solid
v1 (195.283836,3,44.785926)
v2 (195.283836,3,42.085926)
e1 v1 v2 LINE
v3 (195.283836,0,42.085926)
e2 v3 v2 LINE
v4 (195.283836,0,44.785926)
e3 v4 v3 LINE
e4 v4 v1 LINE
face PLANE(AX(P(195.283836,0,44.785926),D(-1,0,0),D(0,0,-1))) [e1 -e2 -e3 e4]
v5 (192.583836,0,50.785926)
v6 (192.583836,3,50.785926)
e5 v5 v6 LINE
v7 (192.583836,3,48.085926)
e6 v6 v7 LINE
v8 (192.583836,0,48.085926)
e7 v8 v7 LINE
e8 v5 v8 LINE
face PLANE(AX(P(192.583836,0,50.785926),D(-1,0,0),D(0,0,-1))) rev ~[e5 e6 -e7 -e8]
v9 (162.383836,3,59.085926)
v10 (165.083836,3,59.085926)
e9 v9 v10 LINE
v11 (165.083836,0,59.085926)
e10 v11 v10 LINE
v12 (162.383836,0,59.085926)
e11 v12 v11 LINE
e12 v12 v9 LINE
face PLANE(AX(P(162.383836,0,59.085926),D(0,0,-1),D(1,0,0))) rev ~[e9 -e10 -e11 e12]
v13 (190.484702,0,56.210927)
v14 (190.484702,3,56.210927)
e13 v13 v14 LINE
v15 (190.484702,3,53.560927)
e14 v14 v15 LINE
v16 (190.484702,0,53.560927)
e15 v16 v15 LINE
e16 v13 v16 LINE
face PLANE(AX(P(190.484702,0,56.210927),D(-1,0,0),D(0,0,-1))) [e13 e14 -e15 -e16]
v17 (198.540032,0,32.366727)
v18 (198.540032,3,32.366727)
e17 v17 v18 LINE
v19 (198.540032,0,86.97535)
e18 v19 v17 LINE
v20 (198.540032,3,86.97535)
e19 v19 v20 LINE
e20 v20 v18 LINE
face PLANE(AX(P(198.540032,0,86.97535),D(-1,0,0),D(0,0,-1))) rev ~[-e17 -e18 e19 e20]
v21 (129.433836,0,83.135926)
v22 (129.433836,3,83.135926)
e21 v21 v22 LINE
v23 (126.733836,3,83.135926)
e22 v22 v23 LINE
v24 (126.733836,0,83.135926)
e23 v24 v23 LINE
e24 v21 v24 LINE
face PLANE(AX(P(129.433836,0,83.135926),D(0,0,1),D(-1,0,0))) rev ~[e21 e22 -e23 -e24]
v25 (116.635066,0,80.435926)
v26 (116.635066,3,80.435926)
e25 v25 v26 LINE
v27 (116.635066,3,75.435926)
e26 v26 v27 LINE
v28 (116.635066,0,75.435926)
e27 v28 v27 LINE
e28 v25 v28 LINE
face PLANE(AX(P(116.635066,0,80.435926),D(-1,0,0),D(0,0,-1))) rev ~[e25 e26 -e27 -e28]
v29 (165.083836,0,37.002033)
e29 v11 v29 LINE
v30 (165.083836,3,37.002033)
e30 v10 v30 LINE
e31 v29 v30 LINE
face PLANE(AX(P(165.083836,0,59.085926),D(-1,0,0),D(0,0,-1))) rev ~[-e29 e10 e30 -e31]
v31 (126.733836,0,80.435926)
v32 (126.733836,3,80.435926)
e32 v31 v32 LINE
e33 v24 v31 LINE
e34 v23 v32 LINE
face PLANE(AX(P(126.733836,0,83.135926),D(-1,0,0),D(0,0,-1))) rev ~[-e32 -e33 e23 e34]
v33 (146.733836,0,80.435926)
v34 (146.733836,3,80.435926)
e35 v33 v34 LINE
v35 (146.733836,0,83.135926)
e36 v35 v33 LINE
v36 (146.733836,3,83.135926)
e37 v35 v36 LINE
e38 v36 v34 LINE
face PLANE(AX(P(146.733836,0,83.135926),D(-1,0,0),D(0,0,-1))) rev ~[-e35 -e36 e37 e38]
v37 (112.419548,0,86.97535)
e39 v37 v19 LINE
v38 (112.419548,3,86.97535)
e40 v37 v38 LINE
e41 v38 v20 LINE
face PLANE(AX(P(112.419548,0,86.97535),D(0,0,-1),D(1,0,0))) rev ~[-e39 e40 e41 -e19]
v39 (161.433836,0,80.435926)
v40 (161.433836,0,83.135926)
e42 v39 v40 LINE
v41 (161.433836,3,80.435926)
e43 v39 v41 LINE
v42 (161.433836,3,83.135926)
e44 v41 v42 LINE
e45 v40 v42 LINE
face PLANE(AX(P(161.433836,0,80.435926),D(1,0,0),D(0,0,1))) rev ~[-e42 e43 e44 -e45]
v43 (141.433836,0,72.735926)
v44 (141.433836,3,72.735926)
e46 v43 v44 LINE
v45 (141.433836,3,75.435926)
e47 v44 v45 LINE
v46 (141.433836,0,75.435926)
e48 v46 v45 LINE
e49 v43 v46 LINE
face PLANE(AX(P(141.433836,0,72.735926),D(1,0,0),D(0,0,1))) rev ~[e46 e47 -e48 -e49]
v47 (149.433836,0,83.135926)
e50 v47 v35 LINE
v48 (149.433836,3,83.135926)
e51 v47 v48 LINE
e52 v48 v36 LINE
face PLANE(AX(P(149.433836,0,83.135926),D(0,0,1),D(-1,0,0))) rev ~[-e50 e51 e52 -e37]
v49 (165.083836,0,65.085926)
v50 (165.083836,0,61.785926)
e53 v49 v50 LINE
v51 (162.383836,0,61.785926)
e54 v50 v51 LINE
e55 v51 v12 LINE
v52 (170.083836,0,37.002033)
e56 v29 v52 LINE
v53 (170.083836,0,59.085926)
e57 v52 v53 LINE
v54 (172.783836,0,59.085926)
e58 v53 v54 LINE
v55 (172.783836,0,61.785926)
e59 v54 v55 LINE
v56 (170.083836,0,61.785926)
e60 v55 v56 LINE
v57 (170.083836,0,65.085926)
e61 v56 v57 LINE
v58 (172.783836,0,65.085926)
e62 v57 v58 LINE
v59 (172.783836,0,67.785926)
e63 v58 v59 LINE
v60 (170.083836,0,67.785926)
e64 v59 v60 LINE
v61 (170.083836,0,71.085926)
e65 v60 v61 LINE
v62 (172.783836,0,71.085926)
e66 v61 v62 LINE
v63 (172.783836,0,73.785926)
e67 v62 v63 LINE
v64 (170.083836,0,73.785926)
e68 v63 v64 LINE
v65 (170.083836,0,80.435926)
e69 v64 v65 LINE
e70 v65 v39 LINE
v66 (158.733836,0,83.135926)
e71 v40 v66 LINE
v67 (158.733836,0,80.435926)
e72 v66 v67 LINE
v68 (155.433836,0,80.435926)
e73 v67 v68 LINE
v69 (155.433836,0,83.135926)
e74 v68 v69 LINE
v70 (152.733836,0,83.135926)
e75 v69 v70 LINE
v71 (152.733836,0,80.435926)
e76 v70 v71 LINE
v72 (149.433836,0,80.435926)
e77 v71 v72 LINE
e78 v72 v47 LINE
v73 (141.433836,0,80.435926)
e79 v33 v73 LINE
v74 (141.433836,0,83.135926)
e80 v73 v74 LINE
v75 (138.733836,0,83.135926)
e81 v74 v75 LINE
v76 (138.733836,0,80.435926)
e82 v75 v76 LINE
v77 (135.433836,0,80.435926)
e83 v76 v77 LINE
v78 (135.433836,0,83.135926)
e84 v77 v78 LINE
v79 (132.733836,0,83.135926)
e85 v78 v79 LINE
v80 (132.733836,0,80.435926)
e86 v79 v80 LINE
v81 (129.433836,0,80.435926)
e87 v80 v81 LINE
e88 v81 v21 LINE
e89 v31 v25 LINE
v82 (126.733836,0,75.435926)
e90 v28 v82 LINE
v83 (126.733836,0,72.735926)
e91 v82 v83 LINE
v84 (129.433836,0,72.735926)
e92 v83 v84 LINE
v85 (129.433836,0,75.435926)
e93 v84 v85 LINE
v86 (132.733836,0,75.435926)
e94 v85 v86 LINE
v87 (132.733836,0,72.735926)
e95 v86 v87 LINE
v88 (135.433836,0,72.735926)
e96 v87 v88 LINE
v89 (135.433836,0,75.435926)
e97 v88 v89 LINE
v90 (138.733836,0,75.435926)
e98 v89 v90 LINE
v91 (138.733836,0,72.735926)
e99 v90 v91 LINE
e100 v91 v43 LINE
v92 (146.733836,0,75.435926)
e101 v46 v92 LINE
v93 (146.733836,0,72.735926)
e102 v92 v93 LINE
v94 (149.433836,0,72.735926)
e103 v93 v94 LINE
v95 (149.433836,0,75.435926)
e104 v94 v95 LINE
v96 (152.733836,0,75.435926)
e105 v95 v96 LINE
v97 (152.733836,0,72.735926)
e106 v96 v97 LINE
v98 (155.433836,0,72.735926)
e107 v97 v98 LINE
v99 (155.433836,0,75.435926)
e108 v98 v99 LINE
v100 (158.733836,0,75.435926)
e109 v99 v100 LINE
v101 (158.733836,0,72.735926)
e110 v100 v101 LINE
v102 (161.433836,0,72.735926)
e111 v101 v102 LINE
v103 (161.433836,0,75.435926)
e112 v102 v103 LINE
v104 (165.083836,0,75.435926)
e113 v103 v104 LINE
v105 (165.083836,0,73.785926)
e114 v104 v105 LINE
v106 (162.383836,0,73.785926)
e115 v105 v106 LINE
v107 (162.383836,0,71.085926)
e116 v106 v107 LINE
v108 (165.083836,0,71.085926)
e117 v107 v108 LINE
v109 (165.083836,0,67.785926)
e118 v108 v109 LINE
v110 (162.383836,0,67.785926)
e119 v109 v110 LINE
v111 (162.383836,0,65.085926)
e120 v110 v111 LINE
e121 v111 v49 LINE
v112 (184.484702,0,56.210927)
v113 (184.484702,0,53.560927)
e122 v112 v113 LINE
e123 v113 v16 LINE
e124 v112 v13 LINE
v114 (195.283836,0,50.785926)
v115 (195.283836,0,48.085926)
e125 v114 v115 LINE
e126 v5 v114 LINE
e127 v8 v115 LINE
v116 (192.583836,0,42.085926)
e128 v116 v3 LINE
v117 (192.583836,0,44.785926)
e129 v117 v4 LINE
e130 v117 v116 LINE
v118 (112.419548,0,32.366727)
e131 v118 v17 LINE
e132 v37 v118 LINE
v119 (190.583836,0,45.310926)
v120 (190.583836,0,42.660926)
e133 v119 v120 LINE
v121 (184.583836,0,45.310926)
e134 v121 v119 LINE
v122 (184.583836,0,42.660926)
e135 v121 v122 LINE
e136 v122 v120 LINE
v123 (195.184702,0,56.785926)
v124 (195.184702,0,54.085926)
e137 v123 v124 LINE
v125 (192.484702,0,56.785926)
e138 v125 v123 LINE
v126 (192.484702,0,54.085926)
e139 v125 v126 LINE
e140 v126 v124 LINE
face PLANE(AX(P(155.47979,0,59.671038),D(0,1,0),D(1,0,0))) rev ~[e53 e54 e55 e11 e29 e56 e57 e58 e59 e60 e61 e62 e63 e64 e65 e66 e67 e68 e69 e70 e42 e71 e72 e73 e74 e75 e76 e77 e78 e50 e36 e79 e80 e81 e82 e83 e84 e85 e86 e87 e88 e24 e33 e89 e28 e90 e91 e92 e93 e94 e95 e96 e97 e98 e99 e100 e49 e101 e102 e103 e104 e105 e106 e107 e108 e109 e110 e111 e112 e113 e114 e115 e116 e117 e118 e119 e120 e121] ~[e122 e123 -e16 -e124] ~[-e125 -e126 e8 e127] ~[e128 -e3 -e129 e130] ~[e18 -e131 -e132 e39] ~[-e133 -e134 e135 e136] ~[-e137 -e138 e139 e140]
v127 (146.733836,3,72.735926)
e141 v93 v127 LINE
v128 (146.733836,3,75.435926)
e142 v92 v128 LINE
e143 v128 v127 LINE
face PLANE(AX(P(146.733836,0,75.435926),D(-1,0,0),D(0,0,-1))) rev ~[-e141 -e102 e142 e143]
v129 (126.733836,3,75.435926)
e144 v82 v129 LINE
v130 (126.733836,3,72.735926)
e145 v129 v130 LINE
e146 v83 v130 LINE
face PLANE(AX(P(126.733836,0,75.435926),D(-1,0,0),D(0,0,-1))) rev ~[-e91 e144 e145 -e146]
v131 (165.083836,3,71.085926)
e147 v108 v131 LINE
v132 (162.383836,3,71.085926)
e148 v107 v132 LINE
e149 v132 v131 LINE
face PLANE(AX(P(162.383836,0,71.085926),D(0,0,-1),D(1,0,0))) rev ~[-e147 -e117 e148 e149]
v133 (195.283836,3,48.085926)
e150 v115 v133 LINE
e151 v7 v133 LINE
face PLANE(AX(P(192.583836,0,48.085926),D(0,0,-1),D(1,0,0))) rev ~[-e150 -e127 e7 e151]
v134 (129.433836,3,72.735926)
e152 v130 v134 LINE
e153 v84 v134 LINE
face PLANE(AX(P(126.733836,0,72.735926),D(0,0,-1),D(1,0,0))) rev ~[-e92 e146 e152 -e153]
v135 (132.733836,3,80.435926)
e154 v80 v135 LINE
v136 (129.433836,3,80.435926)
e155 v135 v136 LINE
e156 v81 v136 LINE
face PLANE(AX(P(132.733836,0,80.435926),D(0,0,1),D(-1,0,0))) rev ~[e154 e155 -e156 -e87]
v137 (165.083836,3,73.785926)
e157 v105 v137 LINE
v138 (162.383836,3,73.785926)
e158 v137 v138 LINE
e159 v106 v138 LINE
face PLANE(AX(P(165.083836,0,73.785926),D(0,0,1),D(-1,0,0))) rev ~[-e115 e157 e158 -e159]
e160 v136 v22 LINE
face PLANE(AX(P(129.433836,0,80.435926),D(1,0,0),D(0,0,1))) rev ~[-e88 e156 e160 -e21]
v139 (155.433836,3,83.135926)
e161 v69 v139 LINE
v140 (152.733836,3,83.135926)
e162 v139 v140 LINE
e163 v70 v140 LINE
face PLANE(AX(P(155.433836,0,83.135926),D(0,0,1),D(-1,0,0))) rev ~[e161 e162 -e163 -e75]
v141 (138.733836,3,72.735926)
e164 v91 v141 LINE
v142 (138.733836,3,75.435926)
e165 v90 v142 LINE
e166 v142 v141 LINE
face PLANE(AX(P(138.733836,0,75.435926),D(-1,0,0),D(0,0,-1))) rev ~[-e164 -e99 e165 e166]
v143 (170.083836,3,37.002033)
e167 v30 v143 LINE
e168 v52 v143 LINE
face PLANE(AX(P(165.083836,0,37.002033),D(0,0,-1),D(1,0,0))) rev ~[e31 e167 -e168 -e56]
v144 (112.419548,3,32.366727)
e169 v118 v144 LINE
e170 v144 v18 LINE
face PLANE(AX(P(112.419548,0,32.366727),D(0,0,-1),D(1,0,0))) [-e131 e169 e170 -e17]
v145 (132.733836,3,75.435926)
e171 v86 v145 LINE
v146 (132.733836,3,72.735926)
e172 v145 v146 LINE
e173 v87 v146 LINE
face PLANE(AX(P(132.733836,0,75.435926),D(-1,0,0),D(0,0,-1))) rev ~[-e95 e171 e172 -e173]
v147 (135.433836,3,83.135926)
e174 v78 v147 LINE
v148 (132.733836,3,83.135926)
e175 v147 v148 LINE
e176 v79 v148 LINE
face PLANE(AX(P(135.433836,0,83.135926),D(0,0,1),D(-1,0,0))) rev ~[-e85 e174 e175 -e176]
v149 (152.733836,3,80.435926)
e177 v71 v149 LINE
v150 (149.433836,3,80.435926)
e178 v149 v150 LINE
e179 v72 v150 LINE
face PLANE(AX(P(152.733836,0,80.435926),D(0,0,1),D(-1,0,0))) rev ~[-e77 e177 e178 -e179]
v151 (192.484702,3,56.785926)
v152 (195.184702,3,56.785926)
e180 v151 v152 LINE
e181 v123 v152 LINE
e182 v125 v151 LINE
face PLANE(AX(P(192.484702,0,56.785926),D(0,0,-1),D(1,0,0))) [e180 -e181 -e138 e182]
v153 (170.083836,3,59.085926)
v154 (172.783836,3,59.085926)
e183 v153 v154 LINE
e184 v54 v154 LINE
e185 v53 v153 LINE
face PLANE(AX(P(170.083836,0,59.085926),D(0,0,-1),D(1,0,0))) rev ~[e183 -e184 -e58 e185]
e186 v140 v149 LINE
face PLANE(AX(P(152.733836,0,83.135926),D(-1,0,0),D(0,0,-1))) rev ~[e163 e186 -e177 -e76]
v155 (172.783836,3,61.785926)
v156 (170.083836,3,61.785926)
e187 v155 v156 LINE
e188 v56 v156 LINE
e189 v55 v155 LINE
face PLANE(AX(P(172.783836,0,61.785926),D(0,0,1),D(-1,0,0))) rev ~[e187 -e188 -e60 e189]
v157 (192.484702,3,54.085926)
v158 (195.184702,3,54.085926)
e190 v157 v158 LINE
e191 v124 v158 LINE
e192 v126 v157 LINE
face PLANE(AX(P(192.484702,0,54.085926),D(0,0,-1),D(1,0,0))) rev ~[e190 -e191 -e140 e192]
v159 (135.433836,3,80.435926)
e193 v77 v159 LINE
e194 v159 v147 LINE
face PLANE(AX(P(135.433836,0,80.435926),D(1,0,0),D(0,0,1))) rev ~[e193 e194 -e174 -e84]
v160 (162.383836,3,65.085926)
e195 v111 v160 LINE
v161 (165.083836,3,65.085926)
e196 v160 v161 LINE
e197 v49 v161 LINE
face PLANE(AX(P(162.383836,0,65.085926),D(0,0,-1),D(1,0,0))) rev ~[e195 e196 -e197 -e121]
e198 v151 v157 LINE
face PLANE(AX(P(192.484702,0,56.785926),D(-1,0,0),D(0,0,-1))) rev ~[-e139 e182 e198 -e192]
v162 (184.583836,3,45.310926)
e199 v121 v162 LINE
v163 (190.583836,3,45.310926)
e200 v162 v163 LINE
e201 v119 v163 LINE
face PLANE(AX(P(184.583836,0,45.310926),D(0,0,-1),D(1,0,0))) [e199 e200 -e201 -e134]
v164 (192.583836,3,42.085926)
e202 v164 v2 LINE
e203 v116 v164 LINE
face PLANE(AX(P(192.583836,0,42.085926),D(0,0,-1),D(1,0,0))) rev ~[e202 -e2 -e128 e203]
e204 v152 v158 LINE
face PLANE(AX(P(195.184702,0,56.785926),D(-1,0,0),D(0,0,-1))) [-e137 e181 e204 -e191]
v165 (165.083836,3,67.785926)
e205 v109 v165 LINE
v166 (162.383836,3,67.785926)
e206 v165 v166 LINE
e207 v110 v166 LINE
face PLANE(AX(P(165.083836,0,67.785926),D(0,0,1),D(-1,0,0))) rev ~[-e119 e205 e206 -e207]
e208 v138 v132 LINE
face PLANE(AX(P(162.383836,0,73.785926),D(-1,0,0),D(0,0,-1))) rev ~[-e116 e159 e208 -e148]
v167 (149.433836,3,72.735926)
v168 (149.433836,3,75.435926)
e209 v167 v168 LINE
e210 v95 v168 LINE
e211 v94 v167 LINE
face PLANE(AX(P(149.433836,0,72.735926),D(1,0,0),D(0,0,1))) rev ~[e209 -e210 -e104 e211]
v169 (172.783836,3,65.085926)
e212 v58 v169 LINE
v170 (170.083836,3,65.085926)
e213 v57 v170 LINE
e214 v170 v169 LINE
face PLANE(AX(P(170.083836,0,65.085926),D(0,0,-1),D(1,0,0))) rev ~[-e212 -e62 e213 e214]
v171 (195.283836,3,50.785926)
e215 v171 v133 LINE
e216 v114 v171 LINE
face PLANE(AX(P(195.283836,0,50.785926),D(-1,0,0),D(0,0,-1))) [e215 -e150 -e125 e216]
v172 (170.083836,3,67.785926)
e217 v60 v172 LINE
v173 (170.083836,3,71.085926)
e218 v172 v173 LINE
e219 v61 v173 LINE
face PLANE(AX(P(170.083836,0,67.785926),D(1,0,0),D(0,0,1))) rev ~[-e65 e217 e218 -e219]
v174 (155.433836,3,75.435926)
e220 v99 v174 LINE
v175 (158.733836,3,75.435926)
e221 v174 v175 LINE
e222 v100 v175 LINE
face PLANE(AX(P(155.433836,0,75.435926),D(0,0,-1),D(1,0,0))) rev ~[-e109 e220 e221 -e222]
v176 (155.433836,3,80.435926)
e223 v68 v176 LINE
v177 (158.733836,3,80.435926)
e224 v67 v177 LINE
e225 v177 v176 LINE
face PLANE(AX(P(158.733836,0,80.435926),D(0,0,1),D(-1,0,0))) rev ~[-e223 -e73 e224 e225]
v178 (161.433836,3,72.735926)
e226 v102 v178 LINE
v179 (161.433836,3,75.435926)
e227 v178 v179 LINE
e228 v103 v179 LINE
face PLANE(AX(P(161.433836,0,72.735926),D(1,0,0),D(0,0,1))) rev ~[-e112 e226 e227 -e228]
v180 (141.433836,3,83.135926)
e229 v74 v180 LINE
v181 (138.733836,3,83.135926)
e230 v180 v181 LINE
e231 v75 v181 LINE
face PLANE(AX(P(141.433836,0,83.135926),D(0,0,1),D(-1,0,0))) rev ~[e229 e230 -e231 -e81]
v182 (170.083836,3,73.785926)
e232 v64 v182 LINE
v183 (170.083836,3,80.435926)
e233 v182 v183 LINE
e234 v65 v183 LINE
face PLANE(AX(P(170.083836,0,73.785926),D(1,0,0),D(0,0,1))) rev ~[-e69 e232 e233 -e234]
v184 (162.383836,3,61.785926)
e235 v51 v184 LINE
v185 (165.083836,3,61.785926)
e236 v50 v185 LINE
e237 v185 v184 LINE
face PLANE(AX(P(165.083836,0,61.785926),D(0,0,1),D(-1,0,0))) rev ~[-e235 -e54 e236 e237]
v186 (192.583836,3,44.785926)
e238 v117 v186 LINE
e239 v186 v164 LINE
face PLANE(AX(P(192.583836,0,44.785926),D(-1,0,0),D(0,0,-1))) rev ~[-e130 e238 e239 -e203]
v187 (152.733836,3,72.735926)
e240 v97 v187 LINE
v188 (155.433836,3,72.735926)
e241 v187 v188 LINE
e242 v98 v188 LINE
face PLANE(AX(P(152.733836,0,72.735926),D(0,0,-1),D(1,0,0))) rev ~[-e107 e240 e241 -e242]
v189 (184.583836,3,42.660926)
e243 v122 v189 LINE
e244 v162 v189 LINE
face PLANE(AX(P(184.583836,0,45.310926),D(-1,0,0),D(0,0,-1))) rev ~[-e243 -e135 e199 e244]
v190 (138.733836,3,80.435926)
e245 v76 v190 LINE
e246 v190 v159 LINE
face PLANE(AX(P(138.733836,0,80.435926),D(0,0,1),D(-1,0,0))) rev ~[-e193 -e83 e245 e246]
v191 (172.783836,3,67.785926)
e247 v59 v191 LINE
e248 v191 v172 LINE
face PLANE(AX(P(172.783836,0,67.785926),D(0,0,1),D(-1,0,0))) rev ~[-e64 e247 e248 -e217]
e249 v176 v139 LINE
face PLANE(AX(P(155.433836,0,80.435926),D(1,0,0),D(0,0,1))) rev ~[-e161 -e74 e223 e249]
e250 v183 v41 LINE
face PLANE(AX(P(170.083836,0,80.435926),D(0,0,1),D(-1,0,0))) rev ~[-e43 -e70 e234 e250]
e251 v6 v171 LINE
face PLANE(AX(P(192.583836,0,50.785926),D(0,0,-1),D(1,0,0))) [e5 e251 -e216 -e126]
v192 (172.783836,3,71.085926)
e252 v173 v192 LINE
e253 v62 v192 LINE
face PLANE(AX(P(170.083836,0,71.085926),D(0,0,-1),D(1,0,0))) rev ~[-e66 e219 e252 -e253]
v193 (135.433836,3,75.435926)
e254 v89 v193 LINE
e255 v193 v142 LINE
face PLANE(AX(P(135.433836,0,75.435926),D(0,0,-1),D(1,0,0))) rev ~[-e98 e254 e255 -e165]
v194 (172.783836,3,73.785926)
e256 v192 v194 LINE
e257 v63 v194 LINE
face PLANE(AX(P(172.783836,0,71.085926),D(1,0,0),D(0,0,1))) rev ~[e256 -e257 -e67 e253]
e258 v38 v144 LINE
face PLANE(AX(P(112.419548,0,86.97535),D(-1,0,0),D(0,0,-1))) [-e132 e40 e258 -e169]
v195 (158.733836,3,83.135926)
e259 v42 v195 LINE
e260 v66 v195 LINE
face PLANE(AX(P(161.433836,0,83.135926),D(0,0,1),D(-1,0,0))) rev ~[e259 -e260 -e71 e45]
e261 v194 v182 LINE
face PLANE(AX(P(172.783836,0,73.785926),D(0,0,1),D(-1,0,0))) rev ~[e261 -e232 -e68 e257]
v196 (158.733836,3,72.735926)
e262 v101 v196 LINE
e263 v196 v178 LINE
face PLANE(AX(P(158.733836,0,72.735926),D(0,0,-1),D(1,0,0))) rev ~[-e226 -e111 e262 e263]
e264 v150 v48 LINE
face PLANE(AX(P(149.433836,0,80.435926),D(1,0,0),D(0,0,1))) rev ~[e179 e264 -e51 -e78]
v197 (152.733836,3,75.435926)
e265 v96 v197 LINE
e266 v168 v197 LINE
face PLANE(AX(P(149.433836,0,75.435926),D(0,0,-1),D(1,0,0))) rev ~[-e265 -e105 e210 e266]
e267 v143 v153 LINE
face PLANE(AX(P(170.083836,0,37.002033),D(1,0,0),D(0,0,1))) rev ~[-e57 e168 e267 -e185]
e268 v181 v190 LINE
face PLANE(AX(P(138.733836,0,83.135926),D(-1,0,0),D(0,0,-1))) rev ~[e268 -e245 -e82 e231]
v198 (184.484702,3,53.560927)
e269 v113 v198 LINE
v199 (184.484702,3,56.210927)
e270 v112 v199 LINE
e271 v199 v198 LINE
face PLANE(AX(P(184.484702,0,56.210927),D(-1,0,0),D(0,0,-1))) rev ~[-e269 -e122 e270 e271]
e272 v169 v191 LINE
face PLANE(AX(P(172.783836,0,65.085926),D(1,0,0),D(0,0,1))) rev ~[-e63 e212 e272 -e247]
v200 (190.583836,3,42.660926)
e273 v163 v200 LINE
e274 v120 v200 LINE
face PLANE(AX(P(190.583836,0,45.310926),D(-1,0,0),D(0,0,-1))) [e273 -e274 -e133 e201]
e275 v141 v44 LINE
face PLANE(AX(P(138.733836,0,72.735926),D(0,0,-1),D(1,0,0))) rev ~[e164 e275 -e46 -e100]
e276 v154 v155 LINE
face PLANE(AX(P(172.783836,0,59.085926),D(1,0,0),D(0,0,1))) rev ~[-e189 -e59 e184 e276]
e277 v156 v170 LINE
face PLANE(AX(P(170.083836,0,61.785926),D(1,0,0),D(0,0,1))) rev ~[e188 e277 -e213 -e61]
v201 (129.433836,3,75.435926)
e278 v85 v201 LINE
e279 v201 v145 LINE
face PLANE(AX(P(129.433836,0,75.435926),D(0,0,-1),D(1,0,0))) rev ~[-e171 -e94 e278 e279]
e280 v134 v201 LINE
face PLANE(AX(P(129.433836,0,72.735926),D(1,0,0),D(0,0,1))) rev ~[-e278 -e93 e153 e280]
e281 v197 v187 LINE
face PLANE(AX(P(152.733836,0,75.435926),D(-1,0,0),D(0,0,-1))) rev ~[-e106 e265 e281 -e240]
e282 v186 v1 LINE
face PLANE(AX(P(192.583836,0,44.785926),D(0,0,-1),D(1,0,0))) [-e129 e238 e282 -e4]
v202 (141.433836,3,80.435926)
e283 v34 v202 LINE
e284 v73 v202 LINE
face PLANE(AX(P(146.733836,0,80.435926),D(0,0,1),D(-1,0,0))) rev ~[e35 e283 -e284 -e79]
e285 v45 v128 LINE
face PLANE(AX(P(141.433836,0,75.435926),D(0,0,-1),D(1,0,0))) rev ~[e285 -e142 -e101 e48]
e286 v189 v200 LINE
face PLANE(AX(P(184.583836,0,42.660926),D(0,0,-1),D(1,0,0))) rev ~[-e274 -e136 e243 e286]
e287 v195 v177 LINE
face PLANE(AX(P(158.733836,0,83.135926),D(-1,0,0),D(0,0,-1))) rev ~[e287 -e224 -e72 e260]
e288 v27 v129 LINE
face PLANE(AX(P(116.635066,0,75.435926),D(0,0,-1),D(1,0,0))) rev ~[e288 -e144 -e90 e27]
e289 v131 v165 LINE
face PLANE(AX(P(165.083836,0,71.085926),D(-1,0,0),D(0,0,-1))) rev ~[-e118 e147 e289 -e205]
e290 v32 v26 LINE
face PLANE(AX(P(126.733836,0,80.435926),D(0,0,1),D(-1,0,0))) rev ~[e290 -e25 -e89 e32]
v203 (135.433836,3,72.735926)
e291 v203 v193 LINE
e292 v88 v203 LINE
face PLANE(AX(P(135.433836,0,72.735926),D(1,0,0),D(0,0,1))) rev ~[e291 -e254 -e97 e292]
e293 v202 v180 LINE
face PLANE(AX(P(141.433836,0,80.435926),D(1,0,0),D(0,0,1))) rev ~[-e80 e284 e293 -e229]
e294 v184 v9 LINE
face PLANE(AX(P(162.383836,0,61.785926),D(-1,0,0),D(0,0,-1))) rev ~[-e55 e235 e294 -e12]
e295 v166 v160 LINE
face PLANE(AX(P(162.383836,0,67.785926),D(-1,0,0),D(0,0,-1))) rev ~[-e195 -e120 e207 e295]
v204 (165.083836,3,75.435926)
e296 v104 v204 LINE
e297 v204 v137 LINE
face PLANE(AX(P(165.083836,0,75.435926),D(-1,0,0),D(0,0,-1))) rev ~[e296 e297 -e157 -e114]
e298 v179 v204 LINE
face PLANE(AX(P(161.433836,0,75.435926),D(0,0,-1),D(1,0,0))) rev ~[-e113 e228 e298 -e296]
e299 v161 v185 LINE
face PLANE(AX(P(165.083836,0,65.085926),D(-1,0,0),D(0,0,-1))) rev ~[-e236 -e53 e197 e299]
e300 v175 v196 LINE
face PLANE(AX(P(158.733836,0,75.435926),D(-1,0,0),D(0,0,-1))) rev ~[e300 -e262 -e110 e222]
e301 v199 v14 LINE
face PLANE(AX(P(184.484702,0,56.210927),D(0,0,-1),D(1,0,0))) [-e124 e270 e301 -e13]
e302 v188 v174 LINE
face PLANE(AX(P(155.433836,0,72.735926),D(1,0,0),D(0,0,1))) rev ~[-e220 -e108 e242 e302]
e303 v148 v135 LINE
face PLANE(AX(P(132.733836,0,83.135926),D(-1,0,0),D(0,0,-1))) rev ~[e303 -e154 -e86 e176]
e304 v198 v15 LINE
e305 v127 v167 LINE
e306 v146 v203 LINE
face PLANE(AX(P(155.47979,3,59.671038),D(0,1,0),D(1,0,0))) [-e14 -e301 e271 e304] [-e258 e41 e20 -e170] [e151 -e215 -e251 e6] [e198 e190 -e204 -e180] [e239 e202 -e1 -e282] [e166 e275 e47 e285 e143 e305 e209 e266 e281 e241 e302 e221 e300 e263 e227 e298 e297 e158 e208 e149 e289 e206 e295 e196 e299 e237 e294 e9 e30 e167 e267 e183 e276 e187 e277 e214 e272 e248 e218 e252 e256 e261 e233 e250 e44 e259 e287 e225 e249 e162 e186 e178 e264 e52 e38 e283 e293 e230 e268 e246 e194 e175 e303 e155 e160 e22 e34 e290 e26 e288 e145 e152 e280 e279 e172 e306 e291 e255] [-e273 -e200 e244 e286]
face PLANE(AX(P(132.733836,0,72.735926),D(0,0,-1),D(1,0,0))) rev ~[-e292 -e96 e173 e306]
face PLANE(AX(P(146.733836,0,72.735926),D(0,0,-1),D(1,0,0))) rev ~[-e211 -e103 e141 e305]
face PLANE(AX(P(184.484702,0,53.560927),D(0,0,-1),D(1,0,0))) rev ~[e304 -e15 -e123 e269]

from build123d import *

# Parameters (mm, degrees)
SKETCH1_W           = 86.120484183
SKETCH1_H           = 54.608623026
SKETCH1_W_2         = 2.7
SKETCH1_H_2         = 2.7
SKETCH1_W_3         = 6
SKETCH1_H_3         = 2.65
BOSS_EXTRUDE1_DEPTH = 3


with BuildPart() as part:
    # Sketch1 → Boss-Extrude1 (new body)
    with BuildSketch(Plane(origin=(0, 0, 0), x_dir=(1, 0, 0), z_dir=(0, 1, 0))):
        with Locations((155.479789649, -59.671038124)):
            Rectangle(SKETCH1_W, SKETCH1_H)
        with Locations((193.834702188, -55.435925566)):
            Rectangle(SKETCH1_W_2, SKETCH1_H_2, mode=Mode.SUBTRACT)
        with Locations((193.933836211, -49.435925566)):
            Rectangle(SKETCH1_W_2, SKETCH1_H_2, mode=Mode.SUBTRACT)
        with Locations((193.933836211, -43.435925566)):
            Rectangle(SKETCH1_W_2, SKETCH1_H_2, mode=Mode.SUBTRACT)
        with Locations((187.484702188, -54.885926943)):
            Rectangle(SKETCH1_W_3, SKETCH1_H_3, mode=Mode.SUBTRACT)
        with Locations((187.583836211, -43.985925566)):
            Rectangle(SKETCH1_W_3, SKETCH1_H_3, mode=Mode.SUBTRACT)
        Polygon((129.433836211, -75.435925566), (132.733836211, -75.435925566), (132.733836211, -72.735925566), (135.433836211, -72.735925566), (135.433836211, -75.435925566), (138.733836211, -75.435925566), (138.733836211, -72.735925566), (141.433836211, -72.735925566), (141.433836211, -75.435925566), (146.733836211, -75.435925566), (146.733836211, -72.735925566), (149.433836211, -72.735925566), (149.433836211, -75.435925566), (152.733836211, -75.435925566), (152.733836211, -72.735925566), (155.433836211, -72.735925566), (155.433836211, -75.435925566), (158.733836211, -75.435925566), (158.733836211, -72.735925566), (161.433836211, -72.735925566), (161.433836211, -75.435925566), (165.083836211, -75.435925566), (165.083836211, -73.785925566), (162.383836211, -73.785925566), (162.383836211, -71.085925566), (165.083836211, -71.085925566), (165.083836211, -67.785925566), (162.383836211, -67.785925566), (162.383836211, -65.085925566), (165.083836211, -65.085925566), (165.083836211, -61.785925566), (162.383836211, -61.785925566), (162.383836211, -59.085925566), (165.083836211, -59.085925566), (165.083836211, -37.002032915), (170.083836211, -37.002032915), (170.083836211, -59.085925566), (172.783836211, -59.085925566), (172.783836211, -61.785925566), (170.083836211, -61.785925566), (170.083836211, -65.085925566), (172.783836211, -65.085925566), (172.783836211, -67.785925566), (170.083836211, -67.785925566), (170.083836211, -71.085925566), (172.783836211, -71.085925566), (172.783836211, -73.785925566), (170.083836211, -73.785925566), (170.083836211, -75.435925566), (170.083836211, -80.435925566), (161.433836211, -80.435925566), (161.433836211, -83.135925566), (158.733836211, -83.135925566), (158.733836211, -80.435925566), (155.433836211, -80.435925566), (155.433836211, -83.135925566), (152.733836211, -83.135925566), (152.733836211, -80.435925566), (149.433836211, -80.435925566), (149.433836211, -83.135925566), (146.733836211, -83.135925566), (146.733836211, -80.435925566), (141.433836211, -80.435925566), (141.433836211, -83.135925566), (138.733836211, -83.135925566), (138.733836211, -80.435925566), (135.433836211, -80.435925566), (135.433836211, -83.135925566), (132.733836211, -83.135925566), (132.733836211, -80.435925566), (129.433836211, -80.435925566), (129.433836211, -83.135925566), (126.733836211, -83.135925566), (126.733836211, -80.435925566), (116.63506554, -80.435925566), (116.63506554, -75.435925566), (126.733836211, -75.435925566), (126.733836211, -72.735925566), (129.433836211, -72.735925566), align=None, mode=Mode.SUBTRACT)
    extrude(amount=BOSS_EXTRUDE1_DEPTH)


solid = part.part
